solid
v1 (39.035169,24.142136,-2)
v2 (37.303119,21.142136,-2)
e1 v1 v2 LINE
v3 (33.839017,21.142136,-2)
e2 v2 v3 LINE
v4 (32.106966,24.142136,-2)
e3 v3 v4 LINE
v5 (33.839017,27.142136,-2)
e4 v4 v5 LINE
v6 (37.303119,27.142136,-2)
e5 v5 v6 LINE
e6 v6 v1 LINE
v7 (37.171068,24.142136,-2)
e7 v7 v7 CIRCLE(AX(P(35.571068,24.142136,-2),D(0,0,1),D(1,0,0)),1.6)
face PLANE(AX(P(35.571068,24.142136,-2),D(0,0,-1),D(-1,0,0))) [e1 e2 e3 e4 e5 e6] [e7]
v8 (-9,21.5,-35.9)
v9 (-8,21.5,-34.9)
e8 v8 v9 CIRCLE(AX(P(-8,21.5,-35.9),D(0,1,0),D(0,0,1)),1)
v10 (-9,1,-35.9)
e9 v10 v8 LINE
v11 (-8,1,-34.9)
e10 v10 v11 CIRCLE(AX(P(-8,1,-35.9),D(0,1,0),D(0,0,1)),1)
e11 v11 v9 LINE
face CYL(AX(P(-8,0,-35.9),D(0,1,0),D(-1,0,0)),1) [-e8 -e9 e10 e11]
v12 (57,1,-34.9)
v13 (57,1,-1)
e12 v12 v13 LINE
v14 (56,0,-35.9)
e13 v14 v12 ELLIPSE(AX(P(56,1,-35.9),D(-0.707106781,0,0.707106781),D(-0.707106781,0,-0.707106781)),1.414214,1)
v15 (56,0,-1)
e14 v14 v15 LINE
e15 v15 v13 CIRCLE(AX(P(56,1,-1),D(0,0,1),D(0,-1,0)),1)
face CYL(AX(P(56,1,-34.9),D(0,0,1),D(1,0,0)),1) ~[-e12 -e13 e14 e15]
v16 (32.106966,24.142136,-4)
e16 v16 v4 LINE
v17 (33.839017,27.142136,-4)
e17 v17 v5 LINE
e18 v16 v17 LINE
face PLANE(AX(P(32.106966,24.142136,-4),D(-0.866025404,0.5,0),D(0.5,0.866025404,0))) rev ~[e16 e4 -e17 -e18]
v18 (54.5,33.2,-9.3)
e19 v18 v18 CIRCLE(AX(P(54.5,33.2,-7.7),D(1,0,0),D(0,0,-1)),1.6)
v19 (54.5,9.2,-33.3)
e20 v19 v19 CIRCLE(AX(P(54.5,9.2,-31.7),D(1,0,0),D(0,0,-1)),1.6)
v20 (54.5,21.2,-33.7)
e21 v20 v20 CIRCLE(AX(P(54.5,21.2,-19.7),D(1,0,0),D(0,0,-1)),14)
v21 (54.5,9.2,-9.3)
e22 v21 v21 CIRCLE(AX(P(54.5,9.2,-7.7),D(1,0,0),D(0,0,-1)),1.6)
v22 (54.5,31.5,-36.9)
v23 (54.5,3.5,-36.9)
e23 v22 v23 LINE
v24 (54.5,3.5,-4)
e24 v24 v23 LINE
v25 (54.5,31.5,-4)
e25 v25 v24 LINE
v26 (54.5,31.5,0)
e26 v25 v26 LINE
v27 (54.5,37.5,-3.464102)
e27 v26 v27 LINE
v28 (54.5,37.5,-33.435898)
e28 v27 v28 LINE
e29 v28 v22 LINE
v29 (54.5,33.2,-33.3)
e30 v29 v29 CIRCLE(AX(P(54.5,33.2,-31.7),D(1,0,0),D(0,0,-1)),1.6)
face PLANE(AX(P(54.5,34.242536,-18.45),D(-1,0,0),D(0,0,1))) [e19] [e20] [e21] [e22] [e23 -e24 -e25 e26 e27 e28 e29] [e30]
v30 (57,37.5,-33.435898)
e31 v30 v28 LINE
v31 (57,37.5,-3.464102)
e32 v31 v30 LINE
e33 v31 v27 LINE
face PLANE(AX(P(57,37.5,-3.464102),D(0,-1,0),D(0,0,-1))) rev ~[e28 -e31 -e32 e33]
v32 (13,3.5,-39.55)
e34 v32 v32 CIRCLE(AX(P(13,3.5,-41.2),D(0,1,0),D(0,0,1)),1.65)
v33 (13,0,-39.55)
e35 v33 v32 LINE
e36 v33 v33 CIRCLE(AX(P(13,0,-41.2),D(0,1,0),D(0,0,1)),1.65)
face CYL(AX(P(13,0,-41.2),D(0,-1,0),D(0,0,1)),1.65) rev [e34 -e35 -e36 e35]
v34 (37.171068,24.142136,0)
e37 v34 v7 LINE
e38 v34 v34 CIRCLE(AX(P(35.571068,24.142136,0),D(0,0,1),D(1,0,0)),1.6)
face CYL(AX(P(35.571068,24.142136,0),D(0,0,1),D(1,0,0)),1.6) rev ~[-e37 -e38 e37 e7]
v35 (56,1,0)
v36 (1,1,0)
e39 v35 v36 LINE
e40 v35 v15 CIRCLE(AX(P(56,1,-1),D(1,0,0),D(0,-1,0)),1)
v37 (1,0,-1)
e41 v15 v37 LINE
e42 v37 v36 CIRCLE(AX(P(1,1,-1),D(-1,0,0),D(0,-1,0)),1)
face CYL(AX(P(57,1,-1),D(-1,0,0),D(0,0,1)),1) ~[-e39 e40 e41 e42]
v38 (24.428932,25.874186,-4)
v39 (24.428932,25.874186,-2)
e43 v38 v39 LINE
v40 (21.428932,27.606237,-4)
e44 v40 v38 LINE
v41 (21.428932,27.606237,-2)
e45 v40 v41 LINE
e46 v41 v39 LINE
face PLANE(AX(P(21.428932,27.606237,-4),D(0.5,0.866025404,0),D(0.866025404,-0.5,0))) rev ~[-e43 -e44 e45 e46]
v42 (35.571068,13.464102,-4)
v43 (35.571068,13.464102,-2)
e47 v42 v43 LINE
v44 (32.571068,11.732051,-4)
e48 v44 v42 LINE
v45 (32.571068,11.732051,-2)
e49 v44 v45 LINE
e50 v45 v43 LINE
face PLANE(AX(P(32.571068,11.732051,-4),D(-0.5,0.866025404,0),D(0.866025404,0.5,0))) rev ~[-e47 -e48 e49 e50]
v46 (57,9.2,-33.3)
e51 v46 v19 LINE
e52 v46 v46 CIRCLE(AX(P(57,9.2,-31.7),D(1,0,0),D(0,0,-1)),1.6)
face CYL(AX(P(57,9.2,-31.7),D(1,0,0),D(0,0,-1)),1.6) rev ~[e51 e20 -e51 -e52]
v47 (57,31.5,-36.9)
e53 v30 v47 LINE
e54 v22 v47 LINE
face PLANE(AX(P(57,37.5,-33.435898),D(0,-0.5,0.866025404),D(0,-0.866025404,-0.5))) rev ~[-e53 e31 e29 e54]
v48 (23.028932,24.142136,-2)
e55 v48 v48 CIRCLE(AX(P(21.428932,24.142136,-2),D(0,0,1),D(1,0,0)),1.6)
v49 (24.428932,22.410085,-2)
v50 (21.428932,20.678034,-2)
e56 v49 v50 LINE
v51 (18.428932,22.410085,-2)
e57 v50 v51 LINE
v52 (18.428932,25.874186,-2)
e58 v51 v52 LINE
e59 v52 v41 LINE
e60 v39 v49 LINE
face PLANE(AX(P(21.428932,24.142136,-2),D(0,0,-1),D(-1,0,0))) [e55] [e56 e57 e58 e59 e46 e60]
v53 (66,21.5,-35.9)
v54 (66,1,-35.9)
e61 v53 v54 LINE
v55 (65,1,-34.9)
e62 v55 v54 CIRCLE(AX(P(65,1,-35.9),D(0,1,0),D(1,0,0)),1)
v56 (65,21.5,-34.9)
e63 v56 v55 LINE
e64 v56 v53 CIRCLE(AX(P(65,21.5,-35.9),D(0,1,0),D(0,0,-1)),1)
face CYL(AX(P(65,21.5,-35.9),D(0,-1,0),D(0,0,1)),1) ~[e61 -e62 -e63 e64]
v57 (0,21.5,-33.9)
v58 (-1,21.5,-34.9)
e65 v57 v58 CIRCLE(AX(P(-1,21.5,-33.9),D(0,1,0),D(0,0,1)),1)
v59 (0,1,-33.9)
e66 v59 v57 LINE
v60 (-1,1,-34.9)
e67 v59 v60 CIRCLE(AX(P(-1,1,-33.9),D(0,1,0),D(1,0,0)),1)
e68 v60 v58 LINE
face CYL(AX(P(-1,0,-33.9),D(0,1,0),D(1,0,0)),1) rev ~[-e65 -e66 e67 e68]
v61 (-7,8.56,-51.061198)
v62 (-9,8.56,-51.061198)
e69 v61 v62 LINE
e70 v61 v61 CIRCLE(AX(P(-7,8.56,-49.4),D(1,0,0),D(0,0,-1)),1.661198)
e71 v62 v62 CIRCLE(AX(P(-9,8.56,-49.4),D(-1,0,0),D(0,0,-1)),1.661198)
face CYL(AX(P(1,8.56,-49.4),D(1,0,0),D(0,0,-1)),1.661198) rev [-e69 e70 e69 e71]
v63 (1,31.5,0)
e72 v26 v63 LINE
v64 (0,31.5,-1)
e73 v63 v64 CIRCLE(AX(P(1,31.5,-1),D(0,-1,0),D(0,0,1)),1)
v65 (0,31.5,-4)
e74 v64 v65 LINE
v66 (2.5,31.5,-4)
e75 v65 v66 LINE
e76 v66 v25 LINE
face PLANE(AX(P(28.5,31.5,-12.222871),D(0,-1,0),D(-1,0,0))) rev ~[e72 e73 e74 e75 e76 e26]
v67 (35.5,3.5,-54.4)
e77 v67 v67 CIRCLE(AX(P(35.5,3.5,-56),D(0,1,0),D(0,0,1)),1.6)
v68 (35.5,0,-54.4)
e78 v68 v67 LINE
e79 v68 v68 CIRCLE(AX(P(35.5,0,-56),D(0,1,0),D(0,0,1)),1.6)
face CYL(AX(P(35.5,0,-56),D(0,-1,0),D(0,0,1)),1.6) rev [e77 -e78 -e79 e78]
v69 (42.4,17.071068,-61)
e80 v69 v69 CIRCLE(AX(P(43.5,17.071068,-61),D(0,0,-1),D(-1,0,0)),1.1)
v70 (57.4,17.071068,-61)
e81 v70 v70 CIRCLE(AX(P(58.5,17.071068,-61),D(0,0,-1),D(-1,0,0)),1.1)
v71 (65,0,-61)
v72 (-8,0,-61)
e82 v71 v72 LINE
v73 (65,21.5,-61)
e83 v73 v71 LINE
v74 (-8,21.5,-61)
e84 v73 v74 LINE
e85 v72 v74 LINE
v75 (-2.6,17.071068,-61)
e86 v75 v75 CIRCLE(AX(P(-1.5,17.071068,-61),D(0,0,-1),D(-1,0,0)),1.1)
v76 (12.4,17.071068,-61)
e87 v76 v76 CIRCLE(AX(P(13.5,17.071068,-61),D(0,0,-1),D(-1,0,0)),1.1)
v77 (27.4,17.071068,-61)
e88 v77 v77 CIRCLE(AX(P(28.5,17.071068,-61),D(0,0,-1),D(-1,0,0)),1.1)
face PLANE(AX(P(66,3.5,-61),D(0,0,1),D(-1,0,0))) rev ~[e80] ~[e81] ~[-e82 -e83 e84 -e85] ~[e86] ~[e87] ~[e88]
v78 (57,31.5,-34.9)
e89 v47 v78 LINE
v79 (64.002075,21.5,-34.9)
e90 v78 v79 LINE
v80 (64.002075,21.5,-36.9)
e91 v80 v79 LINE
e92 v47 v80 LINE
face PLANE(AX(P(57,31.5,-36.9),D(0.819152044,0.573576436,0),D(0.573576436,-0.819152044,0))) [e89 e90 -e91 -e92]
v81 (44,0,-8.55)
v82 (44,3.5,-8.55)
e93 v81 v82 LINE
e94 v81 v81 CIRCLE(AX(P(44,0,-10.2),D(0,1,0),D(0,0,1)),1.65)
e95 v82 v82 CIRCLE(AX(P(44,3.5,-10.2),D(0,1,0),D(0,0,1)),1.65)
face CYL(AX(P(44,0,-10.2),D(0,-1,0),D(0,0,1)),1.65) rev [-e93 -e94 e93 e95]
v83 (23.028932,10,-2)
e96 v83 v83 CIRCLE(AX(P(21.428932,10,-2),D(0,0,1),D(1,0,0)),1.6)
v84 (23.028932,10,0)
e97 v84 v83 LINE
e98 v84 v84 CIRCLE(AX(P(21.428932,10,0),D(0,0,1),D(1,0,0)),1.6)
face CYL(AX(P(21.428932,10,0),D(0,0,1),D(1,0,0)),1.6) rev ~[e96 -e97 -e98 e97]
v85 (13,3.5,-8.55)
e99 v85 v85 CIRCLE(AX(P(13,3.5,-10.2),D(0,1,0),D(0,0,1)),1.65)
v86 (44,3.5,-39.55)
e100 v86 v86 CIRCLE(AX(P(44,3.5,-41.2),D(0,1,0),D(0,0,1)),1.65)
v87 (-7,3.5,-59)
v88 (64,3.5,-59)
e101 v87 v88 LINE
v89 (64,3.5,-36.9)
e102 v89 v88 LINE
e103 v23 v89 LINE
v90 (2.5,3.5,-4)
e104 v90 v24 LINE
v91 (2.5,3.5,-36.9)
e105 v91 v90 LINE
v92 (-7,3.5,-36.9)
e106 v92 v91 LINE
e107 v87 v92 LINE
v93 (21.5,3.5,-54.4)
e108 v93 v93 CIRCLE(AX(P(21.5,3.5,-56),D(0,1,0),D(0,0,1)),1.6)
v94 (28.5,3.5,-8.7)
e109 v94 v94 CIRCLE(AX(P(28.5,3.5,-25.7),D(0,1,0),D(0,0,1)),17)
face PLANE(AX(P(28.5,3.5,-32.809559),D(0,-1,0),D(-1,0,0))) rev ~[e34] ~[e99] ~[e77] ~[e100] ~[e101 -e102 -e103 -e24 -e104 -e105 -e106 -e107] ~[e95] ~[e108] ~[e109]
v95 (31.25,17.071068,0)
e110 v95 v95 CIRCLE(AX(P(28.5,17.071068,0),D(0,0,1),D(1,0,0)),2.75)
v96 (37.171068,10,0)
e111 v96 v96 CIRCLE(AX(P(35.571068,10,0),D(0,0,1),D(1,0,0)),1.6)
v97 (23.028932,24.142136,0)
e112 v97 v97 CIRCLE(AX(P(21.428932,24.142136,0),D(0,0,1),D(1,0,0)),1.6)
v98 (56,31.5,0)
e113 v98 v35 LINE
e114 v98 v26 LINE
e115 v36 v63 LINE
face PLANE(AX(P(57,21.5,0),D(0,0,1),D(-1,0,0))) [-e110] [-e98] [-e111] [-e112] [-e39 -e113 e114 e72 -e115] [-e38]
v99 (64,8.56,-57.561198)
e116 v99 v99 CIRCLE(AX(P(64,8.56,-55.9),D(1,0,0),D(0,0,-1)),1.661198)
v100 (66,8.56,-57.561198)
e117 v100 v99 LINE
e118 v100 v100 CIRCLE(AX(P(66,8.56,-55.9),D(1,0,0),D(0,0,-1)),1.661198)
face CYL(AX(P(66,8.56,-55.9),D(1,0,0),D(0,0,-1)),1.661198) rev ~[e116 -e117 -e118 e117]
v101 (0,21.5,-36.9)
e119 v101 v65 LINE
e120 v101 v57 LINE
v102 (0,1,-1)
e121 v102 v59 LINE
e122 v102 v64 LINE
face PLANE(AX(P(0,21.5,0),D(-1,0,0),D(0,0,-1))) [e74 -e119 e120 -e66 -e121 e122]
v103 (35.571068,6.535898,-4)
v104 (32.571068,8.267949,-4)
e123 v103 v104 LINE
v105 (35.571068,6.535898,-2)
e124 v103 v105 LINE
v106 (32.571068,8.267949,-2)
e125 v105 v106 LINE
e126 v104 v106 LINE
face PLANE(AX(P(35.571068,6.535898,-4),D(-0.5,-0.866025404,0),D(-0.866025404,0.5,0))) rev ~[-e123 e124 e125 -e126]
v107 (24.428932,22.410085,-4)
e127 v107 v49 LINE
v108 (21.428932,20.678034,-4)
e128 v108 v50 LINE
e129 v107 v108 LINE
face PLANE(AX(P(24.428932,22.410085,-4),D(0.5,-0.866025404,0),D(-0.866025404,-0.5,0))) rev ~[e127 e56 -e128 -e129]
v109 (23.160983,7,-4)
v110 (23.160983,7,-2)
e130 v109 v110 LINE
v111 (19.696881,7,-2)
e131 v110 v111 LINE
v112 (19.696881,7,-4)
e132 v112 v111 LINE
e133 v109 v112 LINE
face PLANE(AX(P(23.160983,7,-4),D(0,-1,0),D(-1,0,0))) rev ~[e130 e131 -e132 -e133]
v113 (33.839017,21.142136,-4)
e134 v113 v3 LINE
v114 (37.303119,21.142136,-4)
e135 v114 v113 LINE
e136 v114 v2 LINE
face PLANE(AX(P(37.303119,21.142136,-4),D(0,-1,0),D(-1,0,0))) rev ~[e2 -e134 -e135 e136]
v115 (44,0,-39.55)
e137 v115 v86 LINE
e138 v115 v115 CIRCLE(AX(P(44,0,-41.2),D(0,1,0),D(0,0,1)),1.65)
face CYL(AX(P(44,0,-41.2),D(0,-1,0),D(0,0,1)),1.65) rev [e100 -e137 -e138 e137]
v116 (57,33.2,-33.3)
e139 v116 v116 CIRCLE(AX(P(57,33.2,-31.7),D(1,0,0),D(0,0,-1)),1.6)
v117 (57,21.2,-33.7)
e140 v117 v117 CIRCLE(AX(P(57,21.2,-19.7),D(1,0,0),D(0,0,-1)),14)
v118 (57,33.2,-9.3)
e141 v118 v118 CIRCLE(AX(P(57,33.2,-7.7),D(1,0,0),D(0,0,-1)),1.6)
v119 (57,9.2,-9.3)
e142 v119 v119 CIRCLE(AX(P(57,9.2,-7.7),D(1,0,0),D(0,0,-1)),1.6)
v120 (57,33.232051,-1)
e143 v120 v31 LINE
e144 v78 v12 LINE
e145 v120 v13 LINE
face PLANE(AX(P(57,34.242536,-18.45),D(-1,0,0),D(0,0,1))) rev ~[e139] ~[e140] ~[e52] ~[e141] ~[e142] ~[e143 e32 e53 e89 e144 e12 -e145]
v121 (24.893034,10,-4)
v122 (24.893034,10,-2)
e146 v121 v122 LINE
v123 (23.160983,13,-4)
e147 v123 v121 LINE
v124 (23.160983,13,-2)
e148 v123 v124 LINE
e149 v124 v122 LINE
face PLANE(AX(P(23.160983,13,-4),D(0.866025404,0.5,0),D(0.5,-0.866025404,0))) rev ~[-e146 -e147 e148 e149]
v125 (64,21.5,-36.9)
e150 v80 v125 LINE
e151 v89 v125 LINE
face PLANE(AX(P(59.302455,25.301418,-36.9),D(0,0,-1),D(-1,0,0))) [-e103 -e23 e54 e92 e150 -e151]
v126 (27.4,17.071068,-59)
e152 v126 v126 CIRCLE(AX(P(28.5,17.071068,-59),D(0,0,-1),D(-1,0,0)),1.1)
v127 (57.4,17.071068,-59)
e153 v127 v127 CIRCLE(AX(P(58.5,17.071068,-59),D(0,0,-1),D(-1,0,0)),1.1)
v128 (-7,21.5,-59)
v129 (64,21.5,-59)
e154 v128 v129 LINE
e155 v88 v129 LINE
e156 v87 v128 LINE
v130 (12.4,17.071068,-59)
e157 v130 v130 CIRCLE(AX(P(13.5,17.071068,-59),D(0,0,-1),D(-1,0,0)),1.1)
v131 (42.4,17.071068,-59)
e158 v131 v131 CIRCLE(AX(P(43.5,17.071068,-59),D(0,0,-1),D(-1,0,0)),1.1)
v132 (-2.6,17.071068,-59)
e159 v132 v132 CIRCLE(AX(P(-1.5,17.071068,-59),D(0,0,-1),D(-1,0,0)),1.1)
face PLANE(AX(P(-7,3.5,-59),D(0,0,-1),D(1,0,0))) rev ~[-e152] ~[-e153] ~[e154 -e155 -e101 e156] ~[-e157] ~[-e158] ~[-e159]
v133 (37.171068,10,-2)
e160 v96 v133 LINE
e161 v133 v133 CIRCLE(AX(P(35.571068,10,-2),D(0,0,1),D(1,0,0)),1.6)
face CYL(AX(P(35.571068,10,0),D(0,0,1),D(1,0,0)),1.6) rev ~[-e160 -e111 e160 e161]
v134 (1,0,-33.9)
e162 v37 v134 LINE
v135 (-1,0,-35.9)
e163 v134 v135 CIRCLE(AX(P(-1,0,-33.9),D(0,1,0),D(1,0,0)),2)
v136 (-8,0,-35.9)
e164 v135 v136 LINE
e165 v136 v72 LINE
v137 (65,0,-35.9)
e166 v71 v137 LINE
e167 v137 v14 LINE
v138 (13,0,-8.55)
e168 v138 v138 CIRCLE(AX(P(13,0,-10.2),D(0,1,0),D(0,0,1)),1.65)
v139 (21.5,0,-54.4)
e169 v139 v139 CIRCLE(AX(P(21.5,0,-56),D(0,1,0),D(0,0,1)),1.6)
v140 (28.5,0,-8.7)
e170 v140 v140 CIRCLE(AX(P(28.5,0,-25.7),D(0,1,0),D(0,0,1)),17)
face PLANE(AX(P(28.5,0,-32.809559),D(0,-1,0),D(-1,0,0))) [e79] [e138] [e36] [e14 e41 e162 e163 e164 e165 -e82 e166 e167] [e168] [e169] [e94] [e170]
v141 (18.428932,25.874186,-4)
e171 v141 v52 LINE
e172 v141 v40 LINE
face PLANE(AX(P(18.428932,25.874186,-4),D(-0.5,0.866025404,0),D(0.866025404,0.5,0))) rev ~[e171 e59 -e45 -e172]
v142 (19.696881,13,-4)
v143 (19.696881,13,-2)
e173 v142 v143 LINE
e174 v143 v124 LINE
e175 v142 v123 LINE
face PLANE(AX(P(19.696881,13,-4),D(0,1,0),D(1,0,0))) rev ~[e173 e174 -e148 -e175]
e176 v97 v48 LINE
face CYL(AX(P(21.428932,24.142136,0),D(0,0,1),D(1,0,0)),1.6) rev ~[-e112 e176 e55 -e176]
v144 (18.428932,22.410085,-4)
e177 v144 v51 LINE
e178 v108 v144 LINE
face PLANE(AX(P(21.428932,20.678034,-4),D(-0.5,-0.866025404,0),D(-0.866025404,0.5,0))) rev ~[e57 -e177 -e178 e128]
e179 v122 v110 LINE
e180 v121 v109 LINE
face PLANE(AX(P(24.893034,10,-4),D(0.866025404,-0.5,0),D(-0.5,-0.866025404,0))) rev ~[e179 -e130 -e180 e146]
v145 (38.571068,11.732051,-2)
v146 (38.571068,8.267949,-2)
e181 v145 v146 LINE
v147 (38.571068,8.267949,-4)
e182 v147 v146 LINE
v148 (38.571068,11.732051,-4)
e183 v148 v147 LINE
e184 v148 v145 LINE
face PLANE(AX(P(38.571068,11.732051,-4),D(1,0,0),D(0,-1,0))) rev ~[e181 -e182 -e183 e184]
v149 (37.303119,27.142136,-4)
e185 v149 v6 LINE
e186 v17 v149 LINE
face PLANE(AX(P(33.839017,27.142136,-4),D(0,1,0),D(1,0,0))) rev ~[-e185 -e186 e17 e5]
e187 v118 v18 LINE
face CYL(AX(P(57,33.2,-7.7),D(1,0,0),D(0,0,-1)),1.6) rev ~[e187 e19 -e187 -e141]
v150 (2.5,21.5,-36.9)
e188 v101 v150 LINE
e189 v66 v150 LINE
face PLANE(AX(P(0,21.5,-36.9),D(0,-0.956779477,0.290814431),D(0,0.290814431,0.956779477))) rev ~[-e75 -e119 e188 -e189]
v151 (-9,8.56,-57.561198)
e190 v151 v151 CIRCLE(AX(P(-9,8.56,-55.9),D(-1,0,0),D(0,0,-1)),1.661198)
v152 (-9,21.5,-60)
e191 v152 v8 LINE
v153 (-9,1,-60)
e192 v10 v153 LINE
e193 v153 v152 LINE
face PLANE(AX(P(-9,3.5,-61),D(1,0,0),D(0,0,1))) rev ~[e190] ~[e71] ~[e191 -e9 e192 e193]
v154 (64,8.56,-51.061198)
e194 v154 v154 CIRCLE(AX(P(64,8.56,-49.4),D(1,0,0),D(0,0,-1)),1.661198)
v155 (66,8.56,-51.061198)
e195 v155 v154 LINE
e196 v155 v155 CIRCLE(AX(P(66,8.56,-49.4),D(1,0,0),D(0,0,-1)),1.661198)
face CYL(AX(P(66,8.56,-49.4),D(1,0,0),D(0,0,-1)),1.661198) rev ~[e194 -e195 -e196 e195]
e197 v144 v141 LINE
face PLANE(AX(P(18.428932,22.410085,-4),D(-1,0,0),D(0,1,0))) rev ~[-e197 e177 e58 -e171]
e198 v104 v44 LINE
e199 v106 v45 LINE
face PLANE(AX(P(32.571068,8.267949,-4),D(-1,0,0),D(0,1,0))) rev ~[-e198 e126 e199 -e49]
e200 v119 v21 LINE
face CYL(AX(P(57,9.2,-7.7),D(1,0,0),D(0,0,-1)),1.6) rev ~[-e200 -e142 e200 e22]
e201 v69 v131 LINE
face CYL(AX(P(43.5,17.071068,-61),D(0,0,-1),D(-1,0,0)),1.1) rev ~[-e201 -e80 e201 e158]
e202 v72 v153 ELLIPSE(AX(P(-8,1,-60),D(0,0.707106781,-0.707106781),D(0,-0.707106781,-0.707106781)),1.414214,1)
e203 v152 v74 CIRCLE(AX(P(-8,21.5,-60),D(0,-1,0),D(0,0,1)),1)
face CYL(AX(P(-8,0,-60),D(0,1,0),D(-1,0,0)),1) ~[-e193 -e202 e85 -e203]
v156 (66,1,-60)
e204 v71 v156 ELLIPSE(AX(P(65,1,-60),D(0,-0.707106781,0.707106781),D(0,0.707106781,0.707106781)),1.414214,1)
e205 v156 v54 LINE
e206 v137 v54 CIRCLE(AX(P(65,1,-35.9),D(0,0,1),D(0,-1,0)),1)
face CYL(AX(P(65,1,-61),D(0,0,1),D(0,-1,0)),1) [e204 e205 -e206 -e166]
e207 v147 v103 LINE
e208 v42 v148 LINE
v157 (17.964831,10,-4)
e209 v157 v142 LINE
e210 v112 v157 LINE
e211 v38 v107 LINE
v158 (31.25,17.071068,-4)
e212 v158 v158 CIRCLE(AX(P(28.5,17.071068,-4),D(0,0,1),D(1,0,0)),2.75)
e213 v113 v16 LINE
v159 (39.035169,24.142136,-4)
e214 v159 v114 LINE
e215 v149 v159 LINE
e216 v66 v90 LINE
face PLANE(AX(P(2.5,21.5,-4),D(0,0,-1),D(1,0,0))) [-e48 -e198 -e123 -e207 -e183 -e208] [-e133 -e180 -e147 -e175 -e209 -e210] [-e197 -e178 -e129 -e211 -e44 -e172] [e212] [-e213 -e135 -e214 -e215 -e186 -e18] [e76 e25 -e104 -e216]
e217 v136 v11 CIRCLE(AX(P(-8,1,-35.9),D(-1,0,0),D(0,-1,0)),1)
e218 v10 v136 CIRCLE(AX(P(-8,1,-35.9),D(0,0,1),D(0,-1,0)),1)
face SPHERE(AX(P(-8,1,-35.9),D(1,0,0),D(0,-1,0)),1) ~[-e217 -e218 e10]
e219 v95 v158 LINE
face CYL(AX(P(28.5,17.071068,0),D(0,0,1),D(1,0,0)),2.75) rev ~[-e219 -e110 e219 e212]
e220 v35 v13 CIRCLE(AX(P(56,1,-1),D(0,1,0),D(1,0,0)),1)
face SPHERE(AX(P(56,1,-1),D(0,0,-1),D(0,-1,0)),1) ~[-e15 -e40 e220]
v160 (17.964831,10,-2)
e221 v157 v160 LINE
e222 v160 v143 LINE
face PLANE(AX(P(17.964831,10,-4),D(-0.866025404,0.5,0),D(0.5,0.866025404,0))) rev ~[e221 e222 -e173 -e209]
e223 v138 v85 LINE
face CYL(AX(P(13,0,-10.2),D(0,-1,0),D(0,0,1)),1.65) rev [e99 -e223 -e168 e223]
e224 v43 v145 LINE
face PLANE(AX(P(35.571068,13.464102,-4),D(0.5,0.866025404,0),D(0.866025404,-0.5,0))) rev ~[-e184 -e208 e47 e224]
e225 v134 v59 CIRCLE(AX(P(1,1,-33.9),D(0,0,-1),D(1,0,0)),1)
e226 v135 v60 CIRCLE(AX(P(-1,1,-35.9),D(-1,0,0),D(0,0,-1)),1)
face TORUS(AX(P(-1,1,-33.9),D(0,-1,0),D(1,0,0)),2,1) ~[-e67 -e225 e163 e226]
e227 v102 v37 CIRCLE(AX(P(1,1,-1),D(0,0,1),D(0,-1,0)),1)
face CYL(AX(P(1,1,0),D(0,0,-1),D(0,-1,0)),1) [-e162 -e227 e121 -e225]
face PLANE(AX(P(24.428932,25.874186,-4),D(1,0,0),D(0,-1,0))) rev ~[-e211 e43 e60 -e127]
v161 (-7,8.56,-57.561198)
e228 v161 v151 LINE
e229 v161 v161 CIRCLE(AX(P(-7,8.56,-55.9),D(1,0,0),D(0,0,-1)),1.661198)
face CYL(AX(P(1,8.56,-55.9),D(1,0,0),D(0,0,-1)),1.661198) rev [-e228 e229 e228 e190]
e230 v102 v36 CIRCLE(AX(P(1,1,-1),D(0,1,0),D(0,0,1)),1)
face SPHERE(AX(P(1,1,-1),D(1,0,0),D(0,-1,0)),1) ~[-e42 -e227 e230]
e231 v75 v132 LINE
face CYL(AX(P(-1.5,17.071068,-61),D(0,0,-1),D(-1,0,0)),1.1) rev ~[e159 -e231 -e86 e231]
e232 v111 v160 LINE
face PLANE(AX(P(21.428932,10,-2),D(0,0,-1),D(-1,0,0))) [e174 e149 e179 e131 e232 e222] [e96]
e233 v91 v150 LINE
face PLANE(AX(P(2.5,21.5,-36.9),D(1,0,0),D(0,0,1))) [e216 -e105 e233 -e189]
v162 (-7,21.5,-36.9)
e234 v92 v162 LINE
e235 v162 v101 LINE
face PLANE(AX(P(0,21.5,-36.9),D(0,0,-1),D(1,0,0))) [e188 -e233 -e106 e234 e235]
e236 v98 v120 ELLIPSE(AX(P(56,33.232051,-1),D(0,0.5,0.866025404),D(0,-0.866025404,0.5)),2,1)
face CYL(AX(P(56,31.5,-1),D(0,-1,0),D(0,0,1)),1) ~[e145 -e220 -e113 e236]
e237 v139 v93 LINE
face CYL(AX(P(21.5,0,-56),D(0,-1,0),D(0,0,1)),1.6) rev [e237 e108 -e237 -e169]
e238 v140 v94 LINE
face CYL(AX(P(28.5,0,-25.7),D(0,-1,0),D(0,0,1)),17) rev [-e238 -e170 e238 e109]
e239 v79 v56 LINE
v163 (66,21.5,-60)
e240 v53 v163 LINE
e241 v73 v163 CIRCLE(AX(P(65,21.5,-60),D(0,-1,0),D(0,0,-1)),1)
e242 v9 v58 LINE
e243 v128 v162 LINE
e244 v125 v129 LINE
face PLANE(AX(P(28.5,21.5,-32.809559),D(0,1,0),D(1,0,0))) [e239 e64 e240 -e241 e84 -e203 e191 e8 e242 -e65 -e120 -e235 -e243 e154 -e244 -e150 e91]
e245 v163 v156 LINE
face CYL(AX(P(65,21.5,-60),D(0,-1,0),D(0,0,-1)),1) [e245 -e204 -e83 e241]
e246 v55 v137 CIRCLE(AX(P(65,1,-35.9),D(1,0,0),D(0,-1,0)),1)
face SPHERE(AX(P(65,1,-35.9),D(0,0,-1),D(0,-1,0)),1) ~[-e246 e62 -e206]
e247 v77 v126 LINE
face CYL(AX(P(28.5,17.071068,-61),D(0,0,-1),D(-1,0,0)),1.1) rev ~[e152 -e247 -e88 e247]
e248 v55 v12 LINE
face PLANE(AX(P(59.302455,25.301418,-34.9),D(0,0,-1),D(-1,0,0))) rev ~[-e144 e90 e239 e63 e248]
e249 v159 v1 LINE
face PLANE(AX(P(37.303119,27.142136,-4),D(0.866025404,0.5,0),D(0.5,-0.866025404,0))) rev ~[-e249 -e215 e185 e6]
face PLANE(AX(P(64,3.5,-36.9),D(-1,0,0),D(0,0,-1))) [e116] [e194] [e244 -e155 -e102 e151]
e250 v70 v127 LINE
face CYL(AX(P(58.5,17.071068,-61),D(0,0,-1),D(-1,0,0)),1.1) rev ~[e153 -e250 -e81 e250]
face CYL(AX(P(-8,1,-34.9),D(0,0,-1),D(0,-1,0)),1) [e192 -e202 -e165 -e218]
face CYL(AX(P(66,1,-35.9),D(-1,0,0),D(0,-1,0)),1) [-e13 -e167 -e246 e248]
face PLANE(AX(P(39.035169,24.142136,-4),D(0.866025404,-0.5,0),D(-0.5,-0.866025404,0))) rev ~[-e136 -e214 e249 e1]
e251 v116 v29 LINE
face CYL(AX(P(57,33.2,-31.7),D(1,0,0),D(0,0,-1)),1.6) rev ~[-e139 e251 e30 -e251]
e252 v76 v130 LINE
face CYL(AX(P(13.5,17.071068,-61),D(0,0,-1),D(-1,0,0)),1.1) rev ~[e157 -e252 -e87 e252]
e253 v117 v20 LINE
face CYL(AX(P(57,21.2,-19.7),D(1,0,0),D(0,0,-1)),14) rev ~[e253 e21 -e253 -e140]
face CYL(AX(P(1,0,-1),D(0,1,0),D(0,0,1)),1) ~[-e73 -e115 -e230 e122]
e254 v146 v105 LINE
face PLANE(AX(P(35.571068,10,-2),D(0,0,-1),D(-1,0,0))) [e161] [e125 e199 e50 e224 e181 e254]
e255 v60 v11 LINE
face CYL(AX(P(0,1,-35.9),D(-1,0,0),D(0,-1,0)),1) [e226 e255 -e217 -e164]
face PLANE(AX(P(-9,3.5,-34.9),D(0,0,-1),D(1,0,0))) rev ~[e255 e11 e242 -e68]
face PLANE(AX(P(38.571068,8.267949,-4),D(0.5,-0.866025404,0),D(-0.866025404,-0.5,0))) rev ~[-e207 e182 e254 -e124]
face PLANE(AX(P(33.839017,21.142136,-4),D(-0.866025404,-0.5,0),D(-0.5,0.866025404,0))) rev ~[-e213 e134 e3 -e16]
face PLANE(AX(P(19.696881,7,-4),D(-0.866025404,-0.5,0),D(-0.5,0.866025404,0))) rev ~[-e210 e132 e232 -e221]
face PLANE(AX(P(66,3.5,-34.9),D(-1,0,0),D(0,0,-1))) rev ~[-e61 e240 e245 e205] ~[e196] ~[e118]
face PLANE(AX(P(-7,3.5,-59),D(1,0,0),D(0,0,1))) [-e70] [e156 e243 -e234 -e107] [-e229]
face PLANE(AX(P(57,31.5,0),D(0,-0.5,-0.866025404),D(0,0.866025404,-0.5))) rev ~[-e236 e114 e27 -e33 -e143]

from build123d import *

# Parameters (mm, degrees)
SKETCH_2_R           = 1.6
SKETCH_2_R_2         = 17
SKETCH_2_R_3         = 1.65
EXTRUDE_2_DEPTH      = 3.5
EXTRUDE_3_DEPTH      = 18
EXTRUDE_4_DEPTH      = 10
CUT_EXTRUDE_5_DEPTH  = 3
SKETCH_10_R          = 2.75
SKETCH_10_R_2        = 1.6
CUT_EXTRUDE_4_DEPTH  = 5
SKETCH_14_R          = 1.55
SKETCH_14_R_2        = 1.1
CUT_EXTRUDE_6_DEPTH  = 10
CUT_EXTRUDE_7_DEPTH  = 2
EXTRUDE_6_DEPTH      = 2
EXTRUDE_7_DEPTH      = 2.5
SKETCH_21_R          = 1.6
SKETCH_21_R_2        = 14
CUT_EXTRUDE_8_DEPTH  = 3
FILLET_1_R           = 1
SKETCH_25_R          = 1.66119801
CUT_EXTRUDE_9_DEPTH  = 10
CUT_EXTRUDE_START    = -10
SKETCH_27_R          = 1.66119801
CUT_EXTRUDE_10_DEPTH = 10


with BuildPart() as part:
    # 草图2 → 凸台-拉伸2 (new body)
    with BuildSketch(Plane(origin=(0, 0, 0), x_dir=(1, 0, 0), z_dir=(0, 1, 0))):
        Polygon((-9, 34.9), (-9, 61), (6, 61), (51, 61), (66, 61), (66, 34.9), (57, 34.9), (57, 0), (0, 0), (0, 34.9), align=None)
        with Locations(Location((21.5, 56, 0), (0, 0, 270))):
            Circle(SKETCH_2_R, mode=Mode.SUBTRACT)
        with Locations(Location((35.5, 56, 0), (0, 0, 270))):
            Circle(SKETCH_2_R, mode=Mode.SUBTRACT)
        with Locations(Location((28.5, 25.7, 0), (0, 0, 270))):
            Circle(SKETCH_2_R_2, mode=Mode.SUBTRACT)
        with Locations(Location((44, 41.2, 0), (0, 0, 270))):
            Circle(SKETCH_2_R_3, mode=Mode.SUBTRACT)
        with Locations(Location((44, 10.2, 0), (0, 0, 270))):
            Circle(SKETCH_2_R_3, mode=Mode.SUBTRACT)
        with Locations(Location((13, 10.2, 0), (0, 0, 270))):
            Circle(SKETCH_2_R_3, mode=Mode.SUBTRACT)
        with Locations(Location((13, 41.2, 0), (0, 0, 270))):
            Circle(SKETCH_2_R_3, mode=Mode.SUBTRACT)
    extrude(amount=EXTRUDE_2_DEPTH)

    # 草图6 → 凸台-拉伸3 (add)
    with BuildSketch(Plane(origin=(0, 3.5, 0), x_dir=(1, 0, 0), z_dir=(0, 1, 0))):
        Polygon((66, 61), (-9, 61), (-9, 34.9), (0, 34.9), (0, 0), (57, 0), (57, 34.9), (66, 34.9), align=None)
        Polygon((15.5, 59), (-7, 59), (-7, 36.9), (2.5, 36.9), (2.5, 4), (54.5, 4), (54.5, 36.9), (64, 36.9), (64, 59), (41.5, 59), align=None, mode=Mode.SUBTRACT)
    extrude(amount=EXTRUDE_3_DEPTH)

    # 草图11 → 凸台-拉伸4 (add)
    with BuildSketch(Plane(origin=(0, 21.5, 0), x_dir=(1, 0, 0), z_dir=(0, 1, 0))):
        Polygon((2.5, 36.9), (2.5, 4), (54.5, 4), (54.5, 36.9), (57, 36.9), (57, 0), (0, 0), (0, 36.9), align=None)
    extrude(amount=EXTRUDE_4_DEPTH)

    # 草图12 → 切除-拉伸5 (cut)
    with BuildSketch(Plane.ZY):
        Polygon((-36.9, 21.5), (-4, 31.5), (-36.9, 31.5), align=None)
    extrude(amount=-CUT_EXTRUDE_5_DEPTH, mode=Mode.SUBTRACT)

    # 草图10 → 切除-拉伸4 (cut)
    with BuildSketch(Plane.XY):
        with Locations((28.5, 17.071067812)):
            Circle(SKETCH_10_R)
        with Locations((35.571067812, 24.142135624)):
            Circle(SKETCH_10_R_2)
        with Locations((35.571067812, 10)):
            Circle(SKETCH_10_R_2)
        with Locations((21.428932188, 10)):
            Circle(SKETCH_10_R_2)
        with Locations((21.428932188, 24.142135624)):
            Circle(SKETCH_10_R_2)
    extrude(amount=-CUT_EXTRUDE_4_DEPTH, mode=Mode.SUBTRACT)

    # 草图14 → 切除-拉伸6 (cut)
    with BuildSketch(Plane(origin=(0, 0, -61), x_dir=(-1, 0, 0), z_dir=(0, 0, -1))):
        with Locations((31.5, 17.071067812)):
            Circle(SKETCH_14_R)
        with Locations((-88.5, 17.071067812)):
            Circle(SKETCH_14_R)
        with Locations((-28.5, 17.071067812)):
            Circle(SKETCH_14_R_2)
        with Locations((-13.5, 17.071067812)):
            Circle(SKETCH_14_R_2)
        with Locations((1.5, 17.071067812)):
            Circle(SKETCH_14_R_2)
        with Locations((-43.5, 17.071067812)):
            Circle(SKETCH_14_R_2)
        with Locations((-58.5, 17.071067812)):
            Circle(SKETCH_14_R_2)
    extrude(amount=-CUT_EXTRUDE_6_DEPTH, mode=Mode.SUBTRACT)

    # 草图20 → 切除-拉伸7 (cut)
    with BuildSketch(Plane(origin=(0, 0, -4), x_dir=(-1, 0, 0), z_dir=(0, 0, -1))):
        Polygon((-24.428932188, 22.410084816), (-21.428932188, 20.678034009), (-18.428932188, 22.410084816), (-18.428932188, 25.874186431), (-21.428932188, 27.606237239), (-24.428932188, 25.874186431), align=None)
        Polygon((-33.839017004, 21.142135624), (-32.106966197, 24.142135624), (-33.839017004, 27.142135624), (-37.303118619, 27.142135624), (-39.035169427, 24.142135624), (-37.303118619, 21.142135624), align=None)
        Polygon((-23.160982996, 13), (-24.893033803, 10), (-23.160982996, 7), (-19.696881381, 7), (-17.964830573, 10), (-19.696881381, 13), align=None)
        Polygon((-32.571067812, 11.732050808), (-35.571067812, 13.464101615), (-38.571067812, 11.732050808), (-38.571067812, 8.267949192), (-35.571067812, 6.535898385), (-32.571067812, 8.267949192), align=None)
    extrude(amount=-CUT_EXTRUDE_7_DEPTH, mode=Mode.SUBTRACT)

    # 草图22 → 凸台-拉伸6 (add)
    with BuildSketch(Plane(origin=(0, 0, -36.9), x_dir=(-1, 0, 0), z_dir=(0, 0, -1))):
        Polygon((-57, 31.5), (-64.002075382, 21.5), (-57, 21.5), align=None)
    extrude(amount=-EXTRUDE_6_DEPTH)

    # 草图24 → 凸台-拉伸7 (add)
    with BuildSketch(Plane(origin=(57, 0, 0), x_dir=(0, 0, -1), z_dir=(1, 0, 0))):
        Polygon((0, 31.5), (3.464101615, 37.5), (33.435898385, 37.5), (36.9, 31.5), align=None)
    extrude(amount=-EXTRUDE_7_DEPTH)

    # 草图21 → 切除-拉伸8 (cut)
    with BuildSketch(Plane(origin=(57, 0, 0), x_dir=(0, 0, -1), z_dir=(1, 0, 0))):
        with Locations((7.7, 33.2)):
            Circle(SKETCH_21_R)
        with Locations((31.7, 33.2)):
            Circle(SKETCH_21_R)
        with Locations((31.7, 9.2)):
            Circle(SKETCH_21_R)
        with Locations((7.7, 9.2)):
            Circle(SKETCH_21_R)
        with Locations((19.7, 21.2)):
            Circle(SKETCH_21_R_2)
    extrude(amount=-CUT_EXTRUDE_8_DEPTH, mode=Mode.SUBTRACT)

    # 圆角1
    fillet_1_edges = [part.edges().sort_by_distance(p)[0] for p in [
        (66, 0, -47.95),
        (61.5, 0, -34.9),
        (57, 0, -17.45),
        (28.5, 0, 0),
        (0, 0, -17.45),
        (-4.5, 0, -34.9),
        (-9, 0, -47.95),
        (66, 10.75, -61),
        (66, 10.75, -34.9),
        (57, 15.75, 0),
        (0, 15.75, 0),
        (0, 10.75, -34.9),
        (-9, 10.75, -34.9),
        (-9, 10.75, -61),
    ]]
    fillet(fillet_1_edges, radius=FILLET_1_R)

    # 草图25 → 切除-拉伸9 (cut)
    with BuildSketch(Plane(origin=(66, 0, 0), x_dir=(0, 0, -1), z_dir=(1, 0, 0))):
        with Locations((55.9, 8.56)):
            Circle(SKETCH_25_R)
        with Locations((49.4, 8.56)):
            Circle(SKETCH_25_R)
    extrude(amount=-CUT_EXTRUDE_9_DEPTH, mode=Mode.SUBTRACT)

    # 草图27 → 切除-拉伸10 (cut)
    with BuildSketch(Plane.ZY.offset(9).offset(CUT_EXTRUDE_START)):
        with Locations(Location((-55.9, 8.56, 0), (0, 0, 180))):
            Circle(SKETCH_27_R)
        with Locations(Location((-49.4, 8.56, 0), (0, 0, 180))):
            Circle(SKETCH_27_R)
    extrude(amount=CUT_EXTRUDE_10_DEPTH, mode=Mode.SUBTRACT)


solid = part.part
